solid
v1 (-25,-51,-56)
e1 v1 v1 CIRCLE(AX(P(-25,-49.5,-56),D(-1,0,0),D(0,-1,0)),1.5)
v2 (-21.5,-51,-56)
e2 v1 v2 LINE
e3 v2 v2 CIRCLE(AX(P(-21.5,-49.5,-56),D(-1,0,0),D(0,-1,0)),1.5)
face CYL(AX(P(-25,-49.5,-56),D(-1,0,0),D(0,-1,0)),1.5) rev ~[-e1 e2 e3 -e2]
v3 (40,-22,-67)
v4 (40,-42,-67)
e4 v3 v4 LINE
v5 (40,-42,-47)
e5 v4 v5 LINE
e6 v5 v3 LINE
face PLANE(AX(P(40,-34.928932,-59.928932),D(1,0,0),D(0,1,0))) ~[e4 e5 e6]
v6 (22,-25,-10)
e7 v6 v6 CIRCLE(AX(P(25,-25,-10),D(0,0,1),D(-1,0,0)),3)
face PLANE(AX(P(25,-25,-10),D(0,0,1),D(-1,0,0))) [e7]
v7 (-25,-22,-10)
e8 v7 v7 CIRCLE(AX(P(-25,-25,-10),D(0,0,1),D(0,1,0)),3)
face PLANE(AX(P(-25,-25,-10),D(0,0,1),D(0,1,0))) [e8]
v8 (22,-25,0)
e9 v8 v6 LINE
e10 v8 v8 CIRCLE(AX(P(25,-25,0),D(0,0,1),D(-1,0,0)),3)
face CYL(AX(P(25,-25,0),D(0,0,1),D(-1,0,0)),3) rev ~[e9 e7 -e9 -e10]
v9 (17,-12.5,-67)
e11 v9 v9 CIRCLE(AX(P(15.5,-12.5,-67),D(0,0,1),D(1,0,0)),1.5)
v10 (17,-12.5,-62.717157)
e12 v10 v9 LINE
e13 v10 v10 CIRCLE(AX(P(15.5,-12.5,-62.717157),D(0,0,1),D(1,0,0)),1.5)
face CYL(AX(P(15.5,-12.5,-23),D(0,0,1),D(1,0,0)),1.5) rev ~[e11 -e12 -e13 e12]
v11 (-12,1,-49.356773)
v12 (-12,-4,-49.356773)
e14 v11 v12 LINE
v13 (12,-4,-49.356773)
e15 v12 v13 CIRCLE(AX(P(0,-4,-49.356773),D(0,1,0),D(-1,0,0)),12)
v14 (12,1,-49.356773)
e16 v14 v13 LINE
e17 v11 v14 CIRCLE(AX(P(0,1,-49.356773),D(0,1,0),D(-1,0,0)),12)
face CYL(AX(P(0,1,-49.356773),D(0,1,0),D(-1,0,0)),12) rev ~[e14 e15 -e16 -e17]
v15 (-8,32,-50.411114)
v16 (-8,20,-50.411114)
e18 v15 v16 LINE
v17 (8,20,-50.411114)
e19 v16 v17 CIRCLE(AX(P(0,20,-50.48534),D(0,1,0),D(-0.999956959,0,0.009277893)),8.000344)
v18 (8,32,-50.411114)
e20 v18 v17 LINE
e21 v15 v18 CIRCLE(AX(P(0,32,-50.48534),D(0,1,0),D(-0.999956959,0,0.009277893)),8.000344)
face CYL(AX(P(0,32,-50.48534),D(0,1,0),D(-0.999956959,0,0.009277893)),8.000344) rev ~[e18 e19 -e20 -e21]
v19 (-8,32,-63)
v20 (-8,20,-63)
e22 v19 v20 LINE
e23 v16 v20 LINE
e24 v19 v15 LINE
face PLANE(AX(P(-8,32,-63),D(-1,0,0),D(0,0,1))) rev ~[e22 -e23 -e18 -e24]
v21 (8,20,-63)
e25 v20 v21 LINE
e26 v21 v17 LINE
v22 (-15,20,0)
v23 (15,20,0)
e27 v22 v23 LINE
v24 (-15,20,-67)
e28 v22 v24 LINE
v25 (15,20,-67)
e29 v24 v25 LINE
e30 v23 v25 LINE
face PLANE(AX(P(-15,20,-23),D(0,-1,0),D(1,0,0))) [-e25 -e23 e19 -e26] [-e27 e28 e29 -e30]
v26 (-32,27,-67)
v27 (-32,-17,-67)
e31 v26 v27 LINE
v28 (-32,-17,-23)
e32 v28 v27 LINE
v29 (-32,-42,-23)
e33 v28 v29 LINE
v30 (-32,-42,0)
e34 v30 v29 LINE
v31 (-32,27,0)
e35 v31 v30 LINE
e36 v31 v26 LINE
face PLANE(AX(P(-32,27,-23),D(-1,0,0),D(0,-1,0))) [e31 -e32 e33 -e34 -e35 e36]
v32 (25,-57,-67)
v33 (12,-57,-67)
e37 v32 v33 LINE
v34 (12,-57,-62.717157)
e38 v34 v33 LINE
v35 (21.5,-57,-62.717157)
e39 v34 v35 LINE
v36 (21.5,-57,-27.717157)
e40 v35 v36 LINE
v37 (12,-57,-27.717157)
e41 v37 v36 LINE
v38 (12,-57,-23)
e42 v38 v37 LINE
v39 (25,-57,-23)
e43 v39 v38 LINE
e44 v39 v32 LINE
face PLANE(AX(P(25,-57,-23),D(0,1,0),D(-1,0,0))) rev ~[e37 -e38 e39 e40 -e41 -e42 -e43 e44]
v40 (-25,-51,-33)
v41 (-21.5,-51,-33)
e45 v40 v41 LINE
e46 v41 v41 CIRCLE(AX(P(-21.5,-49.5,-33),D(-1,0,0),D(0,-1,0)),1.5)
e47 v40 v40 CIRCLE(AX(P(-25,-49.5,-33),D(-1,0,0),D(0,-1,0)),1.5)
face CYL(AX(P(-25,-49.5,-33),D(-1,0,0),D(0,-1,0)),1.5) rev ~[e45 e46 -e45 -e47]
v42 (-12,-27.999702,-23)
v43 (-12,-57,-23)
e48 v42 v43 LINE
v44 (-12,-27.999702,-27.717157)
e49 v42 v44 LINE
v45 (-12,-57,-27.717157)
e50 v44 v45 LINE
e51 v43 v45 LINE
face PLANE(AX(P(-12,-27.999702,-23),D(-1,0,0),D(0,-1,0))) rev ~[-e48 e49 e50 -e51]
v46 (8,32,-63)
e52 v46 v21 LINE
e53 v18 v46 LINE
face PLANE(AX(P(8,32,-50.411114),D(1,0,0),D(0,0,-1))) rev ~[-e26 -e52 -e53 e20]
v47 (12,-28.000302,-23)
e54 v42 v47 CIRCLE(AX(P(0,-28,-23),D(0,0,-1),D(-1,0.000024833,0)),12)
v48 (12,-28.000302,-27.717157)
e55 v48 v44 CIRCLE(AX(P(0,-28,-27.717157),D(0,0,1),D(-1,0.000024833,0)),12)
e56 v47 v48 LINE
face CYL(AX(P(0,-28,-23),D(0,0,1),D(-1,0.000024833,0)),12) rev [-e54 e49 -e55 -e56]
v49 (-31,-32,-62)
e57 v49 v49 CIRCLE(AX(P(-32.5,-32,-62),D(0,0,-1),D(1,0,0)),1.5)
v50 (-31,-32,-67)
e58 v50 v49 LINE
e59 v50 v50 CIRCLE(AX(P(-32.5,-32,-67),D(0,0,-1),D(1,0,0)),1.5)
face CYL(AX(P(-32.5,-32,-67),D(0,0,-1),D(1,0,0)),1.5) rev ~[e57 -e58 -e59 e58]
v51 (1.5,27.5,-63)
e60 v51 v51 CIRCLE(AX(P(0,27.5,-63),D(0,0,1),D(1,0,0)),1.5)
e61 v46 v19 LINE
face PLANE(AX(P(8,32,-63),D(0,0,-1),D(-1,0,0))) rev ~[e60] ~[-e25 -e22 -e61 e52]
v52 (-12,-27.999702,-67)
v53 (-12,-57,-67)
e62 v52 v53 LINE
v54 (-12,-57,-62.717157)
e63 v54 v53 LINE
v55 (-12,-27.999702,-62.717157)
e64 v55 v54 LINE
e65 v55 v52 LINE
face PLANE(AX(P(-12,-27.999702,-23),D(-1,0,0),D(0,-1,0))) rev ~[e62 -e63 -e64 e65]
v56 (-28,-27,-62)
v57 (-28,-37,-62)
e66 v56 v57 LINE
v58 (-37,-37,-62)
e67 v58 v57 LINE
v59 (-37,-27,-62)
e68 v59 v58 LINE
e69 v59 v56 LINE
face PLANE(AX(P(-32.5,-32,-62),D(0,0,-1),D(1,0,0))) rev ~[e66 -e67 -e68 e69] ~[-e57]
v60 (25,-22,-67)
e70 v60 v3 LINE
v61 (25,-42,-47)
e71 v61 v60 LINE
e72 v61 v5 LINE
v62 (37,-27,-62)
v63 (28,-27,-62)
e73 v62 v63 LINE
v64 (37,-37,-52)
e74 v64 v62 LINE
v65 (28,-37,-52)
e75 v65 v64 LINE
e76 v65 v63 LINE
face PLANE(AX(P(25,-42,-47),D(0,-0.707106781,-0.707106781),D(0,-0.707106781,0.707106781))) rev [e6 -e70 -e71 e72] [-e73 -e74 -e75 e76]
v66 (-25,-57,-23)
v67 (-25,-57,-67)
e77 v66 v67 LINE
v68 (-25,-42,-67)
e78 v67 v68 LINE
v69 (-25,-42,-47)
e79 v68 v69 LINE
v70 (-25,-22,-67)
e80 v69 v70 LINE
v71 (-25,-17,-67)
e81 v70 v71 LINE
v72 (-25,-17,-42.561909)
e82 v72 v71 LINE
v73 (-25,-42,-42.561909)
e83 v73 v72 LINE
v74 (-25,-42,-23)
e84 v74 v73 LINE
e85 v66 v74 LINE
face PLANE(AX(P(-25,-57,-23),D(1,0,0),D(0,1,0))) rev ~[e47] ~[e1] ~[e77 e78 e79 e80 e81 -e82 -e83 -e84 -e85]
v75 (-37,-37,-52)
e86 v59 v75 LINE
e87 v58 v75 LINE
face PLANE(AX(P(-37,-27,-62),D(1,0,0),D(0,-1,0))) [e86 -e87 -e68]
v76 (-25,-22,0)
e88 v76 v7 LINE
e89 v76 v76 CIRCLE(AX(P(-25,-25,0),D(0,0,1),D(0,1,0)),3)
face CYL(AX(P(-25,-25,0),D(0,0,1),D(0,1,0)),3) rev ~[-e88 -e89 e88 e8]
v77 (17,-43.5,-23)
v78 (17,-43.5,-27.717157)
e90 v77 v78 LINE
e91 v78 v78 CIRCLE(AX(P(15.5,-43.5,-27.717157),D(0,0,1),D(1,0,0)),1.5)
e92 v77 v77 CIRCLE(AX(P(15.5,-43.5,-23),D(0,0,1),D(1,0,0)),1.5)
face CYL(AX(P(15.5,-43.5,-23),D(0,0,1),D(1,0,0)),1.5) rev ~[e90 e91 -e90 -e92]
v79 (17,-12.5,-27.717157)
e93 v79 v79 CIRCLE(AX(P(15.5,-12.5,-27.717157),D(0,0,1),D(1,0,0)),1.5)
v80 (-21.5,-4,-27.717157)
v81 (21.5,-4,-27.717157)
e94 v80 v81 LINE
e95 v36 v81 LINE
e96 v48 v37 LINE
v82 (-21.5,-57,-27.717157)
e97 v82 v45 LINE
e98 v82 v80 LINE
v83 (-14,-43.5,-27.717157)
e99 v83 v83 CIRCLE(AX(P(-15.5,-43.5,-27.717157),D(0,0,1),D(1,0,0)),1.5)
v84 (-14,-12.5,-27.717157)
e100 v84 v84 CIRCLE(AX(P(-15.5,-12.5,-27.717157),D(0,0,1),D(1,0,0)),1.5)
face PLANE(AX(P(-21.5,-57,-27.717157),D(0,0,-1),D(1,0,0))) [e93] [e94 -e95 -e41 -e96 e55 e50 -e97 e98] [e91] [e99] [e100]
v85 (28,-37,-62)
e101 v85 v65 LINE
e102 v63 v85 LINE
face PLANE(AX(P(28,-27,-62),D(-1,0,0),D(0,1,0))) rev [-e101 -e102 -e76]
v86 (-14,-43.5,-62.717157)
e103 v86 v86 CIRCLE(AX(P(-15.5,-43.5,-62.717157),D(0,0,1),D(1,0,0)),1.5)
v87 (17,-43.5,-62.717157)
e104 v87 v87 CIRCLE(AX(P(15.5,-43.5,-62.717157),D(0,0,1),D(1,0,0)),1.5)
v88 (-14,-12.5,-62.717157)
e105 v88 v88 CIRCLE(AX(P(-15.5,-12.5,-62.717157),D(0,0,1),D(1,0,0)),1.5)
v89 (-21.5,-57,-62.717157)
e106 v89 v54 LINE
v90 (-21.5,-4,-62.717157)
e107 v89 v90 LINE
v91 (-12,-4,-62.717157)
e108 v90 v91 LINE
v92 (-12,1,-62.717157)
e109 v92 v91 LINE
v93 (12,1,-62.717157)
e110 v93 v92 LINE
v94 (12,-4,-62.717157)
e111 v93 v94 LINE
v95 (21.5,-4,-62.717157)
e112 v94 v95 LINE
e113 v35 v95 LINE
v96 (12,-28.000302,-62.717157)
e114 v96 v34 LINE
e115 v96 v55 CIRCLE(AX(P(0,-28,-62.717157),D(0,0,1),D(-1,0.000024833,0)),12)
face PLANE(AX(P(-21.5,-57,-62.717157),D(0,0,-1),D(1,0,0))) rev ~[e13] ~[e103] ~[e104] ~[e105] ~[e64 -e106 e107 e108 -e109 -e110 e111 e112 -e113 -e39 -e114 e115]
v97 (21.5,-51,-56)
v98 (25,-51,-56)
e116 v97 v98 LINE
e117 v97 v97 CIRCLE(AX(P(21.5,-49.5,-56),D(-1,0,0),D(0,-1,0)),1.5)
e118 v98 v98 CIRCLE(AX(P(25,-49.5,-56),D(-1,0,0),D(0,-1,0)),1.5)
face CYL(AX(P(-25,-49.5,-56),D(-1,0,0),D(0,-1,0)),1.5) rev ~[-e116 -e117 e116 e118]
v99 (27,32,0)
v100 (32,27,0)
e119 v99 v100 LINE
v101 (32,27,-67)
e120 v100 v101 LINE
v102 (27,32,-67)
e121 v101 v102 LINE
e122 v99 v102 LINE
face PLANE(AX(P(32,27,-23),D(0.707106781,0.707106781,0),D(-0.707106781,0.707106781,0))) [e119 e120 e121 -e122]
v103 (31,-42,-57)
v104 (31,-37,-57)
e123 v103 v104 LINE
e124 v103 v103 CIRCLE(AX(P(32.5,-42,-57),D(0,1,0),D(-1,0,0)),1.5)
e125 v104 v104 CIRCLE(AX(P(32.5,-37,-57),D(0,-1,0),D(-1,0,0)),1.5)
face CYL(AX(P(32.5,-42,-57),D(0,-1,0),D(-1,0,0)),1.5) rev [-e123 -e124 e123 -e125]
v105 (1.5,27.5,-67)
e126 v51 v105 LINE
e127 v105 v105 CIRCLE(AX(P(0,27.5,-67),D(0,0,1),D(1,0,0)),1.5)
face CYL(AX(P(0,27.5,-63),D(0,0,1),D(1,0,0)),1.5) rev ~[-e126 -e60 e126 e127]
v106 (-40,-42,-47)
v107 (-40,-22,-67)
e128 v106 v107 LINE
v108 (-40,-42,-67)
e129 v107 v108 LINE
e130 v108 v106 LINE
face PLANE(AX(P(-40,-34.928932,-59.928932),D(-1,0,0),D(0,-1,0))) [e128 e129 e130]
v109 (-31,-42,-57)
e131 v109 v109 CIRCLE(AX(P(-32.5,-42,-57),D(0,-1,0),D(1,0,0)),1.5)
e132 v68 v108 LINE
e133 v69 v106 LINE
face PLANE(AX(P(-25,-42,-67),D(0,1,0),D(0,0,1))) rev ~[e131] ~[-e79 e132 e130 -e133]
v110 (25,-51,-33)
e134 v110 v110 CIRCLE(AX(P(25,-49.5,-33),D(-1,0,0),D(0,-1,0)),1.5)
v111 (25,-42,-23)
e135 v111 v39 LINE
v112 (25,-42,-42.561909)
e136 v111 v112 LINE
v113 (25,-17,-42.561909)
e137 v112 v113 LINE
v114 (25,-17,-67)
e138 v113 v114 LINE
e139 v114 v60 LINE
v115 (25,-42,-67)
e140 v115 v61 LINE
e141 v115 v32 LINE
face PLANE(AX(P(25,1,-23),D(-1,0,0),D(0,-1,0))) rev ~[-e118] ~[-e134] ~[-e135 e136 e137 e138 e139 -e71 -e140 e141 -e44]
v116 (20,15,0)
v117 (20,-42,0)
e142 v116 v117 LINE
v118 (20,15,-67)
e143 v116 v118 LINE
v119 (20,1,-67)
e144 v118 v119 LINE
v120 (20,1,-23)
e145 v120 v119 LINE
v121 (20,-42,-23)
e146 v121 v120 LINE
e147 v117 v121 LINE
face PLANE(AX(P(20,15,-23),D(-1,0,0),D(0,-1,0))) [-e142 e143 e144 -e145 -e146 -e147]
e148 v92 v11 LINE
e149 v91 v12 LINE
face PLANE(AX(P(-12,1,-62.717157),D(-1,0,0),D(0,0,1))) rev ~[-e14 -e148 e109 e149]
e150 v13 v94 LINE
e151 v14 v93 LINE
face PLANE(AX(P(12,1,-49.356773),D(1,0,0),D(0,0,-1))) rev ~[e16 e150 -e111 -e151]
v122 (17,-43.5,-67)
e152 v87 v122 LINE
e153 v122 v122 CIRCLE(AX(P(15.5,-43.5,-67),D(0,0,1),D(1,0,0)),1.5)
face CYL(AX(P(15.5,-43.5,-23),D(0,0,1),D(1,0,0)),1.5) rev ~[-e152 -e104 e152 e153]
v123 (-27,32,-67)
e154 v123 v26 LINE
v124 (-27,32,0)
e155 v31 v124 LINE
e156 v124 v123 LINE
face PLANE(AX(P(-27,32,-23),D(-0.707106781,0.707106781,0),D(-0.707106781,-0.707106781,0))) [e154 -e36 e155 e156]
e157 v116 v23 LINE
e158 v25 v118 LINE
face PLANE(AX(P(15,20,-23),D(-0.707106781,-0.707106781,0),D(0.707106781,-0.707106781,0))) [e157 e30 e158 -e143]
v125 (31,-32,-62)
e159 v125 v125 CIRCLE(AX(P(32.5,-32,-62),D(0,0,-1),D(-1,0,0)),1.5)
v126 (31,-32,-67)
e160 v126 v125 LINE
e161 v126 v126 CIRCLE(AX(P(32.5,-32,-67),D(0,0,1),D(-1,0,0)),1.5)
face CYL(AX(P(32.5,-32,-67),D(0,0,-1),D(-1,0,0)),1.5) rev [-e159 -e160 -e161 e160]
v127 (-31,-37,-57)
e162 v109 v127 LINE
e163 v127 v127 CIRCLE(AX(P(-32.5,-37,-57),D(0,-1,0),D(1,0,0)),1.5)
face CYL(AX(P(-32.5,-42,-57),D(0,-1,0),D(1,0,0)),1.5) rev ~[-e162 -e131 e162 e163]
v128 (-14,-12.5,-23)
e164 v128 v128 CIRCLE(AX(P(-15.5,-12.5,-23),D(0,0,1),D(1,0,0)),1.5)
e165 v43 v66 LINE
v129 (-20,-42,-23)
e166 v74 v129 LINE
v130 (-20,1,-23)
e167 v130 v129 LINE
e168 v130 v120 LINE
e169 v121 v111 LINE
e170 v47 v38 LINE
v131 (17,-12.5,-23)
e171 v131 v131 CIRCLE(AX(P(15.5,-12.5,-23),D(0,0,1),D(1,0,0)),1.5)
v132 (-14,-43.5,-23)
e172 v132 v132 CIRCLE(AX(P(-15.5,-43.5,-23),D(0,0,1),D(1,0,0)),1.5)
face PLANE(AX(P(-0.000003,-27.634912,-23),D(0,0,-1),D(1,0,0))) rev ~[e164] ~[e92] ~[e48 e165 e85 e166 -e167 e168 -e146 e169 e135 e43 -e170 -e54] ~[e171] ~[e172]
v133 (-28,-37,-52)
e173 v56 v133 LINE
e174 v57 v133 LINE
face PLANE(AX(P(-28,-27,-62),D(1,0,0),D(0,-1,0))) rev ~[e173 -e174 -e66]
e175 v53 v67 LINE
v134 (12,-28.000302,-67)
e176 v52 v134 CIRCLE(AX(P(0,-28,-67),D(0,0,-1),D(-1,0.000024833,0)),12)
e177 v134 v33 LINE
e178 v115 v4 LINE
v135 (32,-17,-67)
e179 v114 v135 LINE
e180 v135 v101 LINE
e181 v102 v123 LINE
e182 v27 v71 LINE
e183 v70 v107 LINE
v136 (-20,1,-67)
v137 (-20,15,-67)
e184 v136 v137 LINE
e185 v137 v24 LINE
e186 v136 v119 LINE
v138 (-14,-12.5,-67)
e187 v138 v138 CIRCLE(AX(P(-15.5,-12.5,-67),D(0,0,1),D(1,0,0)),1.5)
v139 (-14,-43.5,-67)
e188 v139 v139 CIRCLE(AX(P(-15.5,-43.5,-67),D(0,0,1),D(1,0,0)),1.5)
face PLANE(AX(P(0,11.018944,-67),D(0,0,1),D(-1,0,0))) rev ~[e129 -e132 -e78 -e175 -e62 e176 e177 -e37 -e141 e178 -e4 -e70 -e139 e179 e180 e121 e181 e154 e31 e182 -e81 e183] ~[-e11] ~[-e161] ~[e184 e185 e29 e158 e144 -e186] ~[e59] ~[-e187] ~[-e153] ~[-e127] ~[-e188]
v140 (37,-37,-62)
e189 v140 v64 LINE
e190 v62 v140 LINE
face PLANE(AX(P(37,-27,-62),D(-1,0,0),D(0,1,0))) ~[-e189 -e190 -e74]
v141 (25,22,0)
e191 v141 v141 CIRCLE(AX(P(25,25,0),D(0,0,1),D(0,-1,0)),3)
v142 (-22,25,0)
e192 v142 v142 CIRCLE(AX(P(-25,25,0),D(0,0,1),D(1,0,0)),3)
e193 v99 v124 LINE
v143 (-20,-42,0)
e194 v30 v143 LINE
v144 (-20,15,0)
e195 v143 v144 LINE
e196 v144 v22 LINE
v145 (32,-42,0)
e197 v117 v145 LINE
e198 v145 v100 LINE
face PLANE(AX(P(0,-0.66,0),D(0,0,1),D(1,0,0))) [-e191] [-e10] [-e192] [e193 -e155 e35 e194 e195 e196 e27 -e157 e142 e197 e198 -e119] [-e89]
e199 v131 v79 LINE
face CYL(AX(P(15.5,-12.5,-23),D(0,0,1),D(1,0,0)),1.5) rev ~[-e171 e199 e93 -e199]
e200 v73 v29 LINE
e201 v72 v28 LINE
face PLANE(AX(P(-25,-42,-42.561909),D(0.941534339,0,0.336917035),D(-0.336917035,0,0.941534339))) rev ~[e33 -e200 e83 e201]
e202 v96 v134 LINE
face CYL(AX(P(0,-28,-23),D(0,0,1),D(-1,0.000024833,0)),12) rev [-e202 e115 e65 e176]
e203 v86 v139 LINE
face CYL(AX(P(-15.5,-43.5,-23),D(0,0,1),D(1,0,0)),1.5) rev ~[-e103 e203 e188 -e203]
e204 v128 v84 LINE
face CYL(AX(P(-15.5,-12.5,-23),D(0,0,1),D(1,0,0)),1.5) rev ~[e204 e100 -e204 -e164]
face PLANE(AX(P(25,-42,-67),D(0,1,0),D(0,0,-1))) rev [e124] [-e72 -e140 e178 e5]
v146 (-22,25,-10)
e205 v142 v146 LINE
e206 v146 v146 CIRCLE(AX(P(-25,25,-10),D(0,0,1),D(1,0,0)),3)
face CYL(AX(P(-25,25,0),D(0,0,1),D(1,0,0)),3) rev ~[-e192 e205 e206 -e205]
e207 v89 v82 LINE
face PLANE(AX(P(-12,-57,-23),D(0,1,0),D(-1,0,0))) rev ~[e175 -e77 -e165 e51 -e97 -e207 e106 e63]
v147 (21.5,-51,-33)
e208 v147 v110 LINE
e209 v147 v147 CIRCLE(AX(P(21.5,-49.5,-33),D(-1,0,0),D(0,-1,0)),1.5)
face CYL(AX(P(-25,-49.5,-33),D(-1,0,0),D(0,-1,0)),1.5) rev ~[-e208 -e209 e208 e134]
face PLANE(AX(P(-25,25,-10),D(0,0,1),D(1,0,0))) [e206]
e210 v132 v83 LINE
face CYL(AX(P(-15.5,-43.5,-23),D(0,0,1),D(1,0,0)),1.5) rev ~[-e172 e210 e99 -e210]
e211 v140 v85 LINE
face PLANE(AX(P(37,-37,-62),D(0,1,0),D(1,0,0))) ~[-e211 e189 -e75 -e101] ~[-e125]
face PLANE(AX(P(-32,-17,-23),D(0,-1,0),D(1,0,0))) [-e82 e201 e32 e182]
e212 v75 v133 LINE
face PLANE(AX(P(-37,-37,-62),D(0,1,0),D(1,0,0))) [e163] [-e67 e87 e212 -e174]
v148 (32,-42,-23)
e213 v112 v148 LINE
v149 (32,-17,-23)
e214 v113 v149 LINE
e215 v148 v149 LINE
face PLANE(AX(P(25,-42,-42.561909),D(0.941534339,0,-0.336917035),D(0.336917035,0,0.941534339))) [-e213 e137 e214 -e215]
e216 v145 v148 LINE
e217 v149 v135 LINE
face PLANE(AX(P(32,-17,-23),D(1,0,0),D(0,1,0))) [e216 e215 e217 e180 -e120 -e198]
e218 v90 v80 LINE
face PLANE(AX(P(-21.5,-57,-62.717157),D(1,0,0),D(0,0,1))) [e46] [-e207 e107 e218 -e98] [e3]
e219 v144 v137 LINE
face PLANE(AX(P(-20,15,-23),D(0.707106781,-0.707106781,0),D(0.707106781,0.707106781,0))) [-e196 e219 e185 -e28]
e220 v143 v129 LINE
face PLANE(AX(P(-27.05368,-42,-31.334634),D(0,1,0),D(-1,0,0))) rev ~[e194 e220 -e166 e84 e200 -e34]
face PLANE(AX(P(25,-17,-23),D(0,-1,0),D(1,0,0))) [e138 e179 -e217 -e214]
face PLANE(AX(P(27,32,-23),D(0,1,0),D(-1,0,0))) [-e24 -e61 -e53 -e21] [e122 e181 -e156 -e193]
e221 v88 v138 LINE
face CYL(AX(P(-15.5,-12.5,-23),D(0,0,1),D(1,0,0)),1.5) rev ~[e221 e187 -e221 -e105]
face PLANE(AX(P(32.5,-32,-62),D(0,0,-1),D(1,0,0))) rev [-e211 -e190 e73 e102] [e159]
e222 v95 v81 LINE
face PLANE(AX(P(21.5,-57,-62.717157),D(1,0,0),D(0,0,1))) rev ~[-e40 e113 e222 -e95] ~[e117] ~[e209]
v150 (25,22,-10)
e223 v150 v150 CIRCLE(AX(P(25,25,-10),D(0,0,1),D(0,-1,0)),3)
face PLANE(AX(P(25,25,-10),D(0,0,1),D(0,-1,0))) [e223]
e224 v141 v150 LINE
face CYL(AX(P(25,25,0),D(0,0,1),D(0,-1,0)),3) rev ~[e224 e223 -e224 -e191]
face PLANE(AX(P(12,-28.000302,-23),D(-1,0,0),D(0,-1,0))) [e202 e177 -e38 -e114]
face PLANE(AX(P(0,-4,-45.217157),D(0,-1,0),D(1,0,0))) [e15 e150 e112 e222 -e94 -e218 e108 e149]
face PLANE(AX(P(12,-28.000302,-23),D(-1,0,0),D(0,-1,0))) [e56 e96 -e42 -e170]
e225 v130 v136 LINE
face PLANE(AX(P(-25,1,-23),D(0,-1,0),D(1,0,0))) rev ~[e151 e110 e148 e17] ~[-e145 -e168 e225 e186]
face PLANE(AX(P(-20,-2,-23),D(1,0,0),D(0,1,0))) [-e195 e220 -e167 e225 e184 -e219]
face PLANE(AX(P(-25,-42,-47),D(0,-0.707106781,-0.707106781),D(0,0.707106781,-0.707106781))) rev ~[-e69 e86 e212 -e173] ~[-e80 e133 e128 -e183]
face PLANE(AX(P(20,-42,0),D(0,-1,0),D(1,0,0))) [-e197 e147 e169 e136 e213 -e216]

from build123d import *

# Parameters (mm, degrees)
PAD004_DEPTH       = 23
PAD005_DEPTH       = 44
SKETCH007_W        = 43
SKETCH007_H        = 35
POCKET001_DEPTH    = 53
PAD006_DEPTH       = 25
SKETCH009_R        = 1.5
POCKET002_DEPTH    = 44.001
SKETCH012_R        = 3
POCKET004_DEPTH    = 10
POLARPATTERN_COUNT = 4
CHAMFER_SIZE       = 5
POCKET_DEPTH       = 5
PAD_DEPTH          = 44
SKETCH014_R        = 1.5
POCKET005_DEPTH    = 57.001
PAD007_DEPTH       = 15
SKETCH016_R        = 1.5
POCKET006_DEPTH    = 20
SKETCH017_R        = 1.5
POCKET007_DEPTH    = 20
SKETCH018_W        = 9
SKETCH018_H        = 10
POCKET008_DEPTH    = 15
POCKET009_DEPTH    = 15
SKETCH020_R        = 1.5
POCKET010_DEPTH    = 5


with BuildPart() as part:
    # Sketch005 → Pad004 (new body)
    with BuildSketch(Plane.XY):
        Polygon((32, -42), (32, 32), (-32, 32), (-32, -42), (-20, -42), (-20, 20), (20, 20), (20, -42), align=None)
    extrude(amount=-PAD004_DEPTH)

    # Sketch006 (on Face10 of Pad004) → Pad005 (join)
    with BuildSketch(Plane(origin=(0, 0, -23), x_dir=(1, 0, 0), z_dir=(0, 0, -1))):
        with BuildLine():
            Line((-25, 57), (-25, -1))
            Line((-25, -1), (25, -1))
            Line((25, -1), (25, 57))
            Line((25, 57), (12, 57))
            Line((12, 28.000302), (12, 57))
            ThreePointArc((-12, 27.999702), (0.0003, 16), (12, 28.000302))
            Line((-12, 27.999702), (-12, 57))
            Line((-12, 57), (-25, 57))
        make_face()
    extrude(amount=PAD005_DEPTH)

    # Sketch007 (on Face16 of Pad005) → Pocket001 (cut)
    with BuildSketch(Plane.XZ.offset(57)):
        with Locations((0, -45.217157)):
            Rectangle(SKETCH007_W, SKETCH007_H)
    extrude(amount=-POCKET001_DEPTH, mode=Mode.SUBTRACT)

    # Sketch008 (on Face9 of Pocket001) → Pad006 (join)
    with BuildSketch(Plane.XZ.offset(42)):
        Polygon((-32, -23), (-25, -23), (-25, -42.561909), align=None)
        Polygon((32, -23), (25, -23), (25, -42.561909), align=None)
    extrude(amount=-PAD006_DEPTH)

    # Sketch009 (on Face7 of Pad006) → Pocket002 (cut, through all)
    with BuildSketch(Plane.XY.offset(-23)):
        with Locations((-15.5, -12.5)):
            Circle(SKETCH009_R)
        with Locations((-15.5, -43.5)):
            Circle(SKETCH009_R)
        with Locations((15.5, -43.5)):
            Circle(SKETCH009_R)
        with Locations((15.5, -12.5)):
            Circle(SKETCH009_R)
    extrude(amount=-POCKET002_DEPTH, mode=Mode.SUBTRACT)

    # Sketch012 (on Face4 of Pocket002) → Pocket004 (cut)
    with BuildSketch(Plane.XY):
        with Locations((-25, 25)):
            Circle(SKETCH012_R)
    pocket004 = extrude(amount=-POCKET004_DEPTH, mode=Mode.SUBTRACT)

    # PolarPattern: Pocket004 ×4 about axis
    polarpattern_axis = Axis((0, 0, 0), (0, 0, 1))
    for i in range(1, POLARPATTERN_COUNT):
        add(pocket004.rotate(polarpattern_axis, i * 360 / POLARPATTERN_COUNT), mode=Mode.SUBTRACT)

    # Chamfer
    chamfer_edges = [part.edges().sort_by_distance(p)[0] for p in [
        (-32, 32, -11.5),
        (32, 32, -11.5),
        (-25, 1, -45),
        (25, 1, -45),
        (20, 20, -11.5),
        (-20, 20, -11.5),
    ]]
    chamfer(chamfer_edges, length=CHAMFER_SIZE)

    # Sketch013 (on Face37 of Chamfer) → Pocket (cut)
    with BuildSketch(Plane(origin=(0, 1, 0), x_dir=(-1, 0, 0), z_dir=(0, 1, 0))):
        with BuildLine():
            Line((-12, -62.717157), (12, -62.717157))
            Line((12, -62.717157), (12, -49.356773))
            ThreePointArc((12, -49.356773), (0, -37.356773), (-12, -49.356773))
            Line((-12, -49.356773), (-12, -62.717157))
        make_face()
    extrude(amount=-POCKET_DEPTH, mode=Mode.SUBTRACT)

    # Sketch (on Face5 of Pocket) → Pad (join)
    with BuildSketch(Plane(origin=(0, 0, -23), x_dir=(1, 0, 0), z_dir=(0, 0, -1))):
        Polygon((-32, 17), (-25, 17), (-25, 7), (-20, 2), (-20, -15), (-15, -20), (15, -20), (20, -15), (20, 2), (25, 7), (25, 17), (32, 17), (32, -27), (27, -32), (-27, -32), (-32, -27), align=None)
    extrude(amount=PAD_DEPTH)

    # Sketch014 (on Face13 of Pad) → Pocket005 (cut, through all)
    with BuildSketch(Plane(origin=(-25, 0, 0), x_dir=(0, -1, 0), z_dir=(-1, 0, 0))):
        with Locations((49.5, -33)):
            Circle(SKETCH014_R)
        with Locations((49.5, -56)):
            Circle(SKETCH014_R)
    extrude(amount=-POCKET005_DEPTH, mode=Mode.SUBTRACT)

    # Sketch015 (on Face26 of Pocket005) → Pad007 (join)
    with BuildSketch(Plane(origin=(-25, 0, 0), x_dir=(0, -1, 0), z_dir=(-1, 0, 0))):
        Polygon((22, -67), (42, -67), (42, -47), align=None)
    pad007 = extrude(amount=PAD007_DEPTH)

    # Sketch016 (on Face53 of Pad007) → Pocket006 (cut)
    with BuildSketch(Plane.XZ.offset(42)):
        with Locations((-32.5, -57)):
            Circle(SKETCH016_R)
    pocket006 = extrude(amount=-POCKET006_DEPTH, mode=Mode.SUBTRACT)

    # Sketch017 (on Face20 of Pocket006) → Pocket007 (cut)
    with BuildSketch(Plane(origin=(0, 0, -67), x_dir=(1, 0, 0), z_dir=(0, 0, -1))):
        with Locations((-32.5, 32)):
            Circle(SKETCH017_R)
    pocket007 = extrude(amount=-POCKET007_DEPTH, mode=Mode.SUBTRACT)

    # Sketch018 (on Face20 of Pocket007) → Pocket008 (cut)
    with BuildSketch(Plane(origin=(0, 0, -62), x_dir=(1, 0, 0), z_dir=(0, 0, -1))):
        with Locations((-32.5, 32)):
            Rectangle(SKETCH018_W, SKETCH018_H)
    pocket008 = extrude(amount=-POCKET008_DEPTH, mode=Mode.SUBTRACT)

    # Mirrored: Pad007, Pocket006, Pocket007, Pocket008 across YZ
    add(pad007.mirror(Plane.YZ))
    add(pocket006.mirror(Plane.YZ), mode=Mode.SUBTRACT)
    add(pocket007.mirror(Plane.YZ), mode=Mode.SUBTRACT)
    add(pocket008.mirror(Plane.YZ), mode=Mode.SUBTRACT)

    # Sketch019 (on Face5 of Mirrored) → Pocket009 (cut)
    with BuildSketch(Plane(origin=(0, 32, 0), x_dir=(-1, 0, 0), z_dir=(0, 1, 0))):
        with BuildLine():
            Line((-8, -63), (8, -63))
            Line((8, -63), (8, -50.411114))
            ThreePointArc((8, -50.411114), (0, -42.484996), (-8, -50.411114))
            Line((-8, -50.411114), (-8, -63))
        make_face()
    extrude(amount=-POCKET009_DEPTH, mode=Mode.SUBTRACT)

    # Sketch020 (on Face23 of Pocket009) → Pocket010 (cut)
    with BuildSketch(Plane.XY.offset(-63)):
        with Locations((0, 27.5)):
            Circle(SKETCH020_R)
    extrude(amount=-POCKET010_DEPTH, mode=Mode.SUBTRACT)


solid = part.part
